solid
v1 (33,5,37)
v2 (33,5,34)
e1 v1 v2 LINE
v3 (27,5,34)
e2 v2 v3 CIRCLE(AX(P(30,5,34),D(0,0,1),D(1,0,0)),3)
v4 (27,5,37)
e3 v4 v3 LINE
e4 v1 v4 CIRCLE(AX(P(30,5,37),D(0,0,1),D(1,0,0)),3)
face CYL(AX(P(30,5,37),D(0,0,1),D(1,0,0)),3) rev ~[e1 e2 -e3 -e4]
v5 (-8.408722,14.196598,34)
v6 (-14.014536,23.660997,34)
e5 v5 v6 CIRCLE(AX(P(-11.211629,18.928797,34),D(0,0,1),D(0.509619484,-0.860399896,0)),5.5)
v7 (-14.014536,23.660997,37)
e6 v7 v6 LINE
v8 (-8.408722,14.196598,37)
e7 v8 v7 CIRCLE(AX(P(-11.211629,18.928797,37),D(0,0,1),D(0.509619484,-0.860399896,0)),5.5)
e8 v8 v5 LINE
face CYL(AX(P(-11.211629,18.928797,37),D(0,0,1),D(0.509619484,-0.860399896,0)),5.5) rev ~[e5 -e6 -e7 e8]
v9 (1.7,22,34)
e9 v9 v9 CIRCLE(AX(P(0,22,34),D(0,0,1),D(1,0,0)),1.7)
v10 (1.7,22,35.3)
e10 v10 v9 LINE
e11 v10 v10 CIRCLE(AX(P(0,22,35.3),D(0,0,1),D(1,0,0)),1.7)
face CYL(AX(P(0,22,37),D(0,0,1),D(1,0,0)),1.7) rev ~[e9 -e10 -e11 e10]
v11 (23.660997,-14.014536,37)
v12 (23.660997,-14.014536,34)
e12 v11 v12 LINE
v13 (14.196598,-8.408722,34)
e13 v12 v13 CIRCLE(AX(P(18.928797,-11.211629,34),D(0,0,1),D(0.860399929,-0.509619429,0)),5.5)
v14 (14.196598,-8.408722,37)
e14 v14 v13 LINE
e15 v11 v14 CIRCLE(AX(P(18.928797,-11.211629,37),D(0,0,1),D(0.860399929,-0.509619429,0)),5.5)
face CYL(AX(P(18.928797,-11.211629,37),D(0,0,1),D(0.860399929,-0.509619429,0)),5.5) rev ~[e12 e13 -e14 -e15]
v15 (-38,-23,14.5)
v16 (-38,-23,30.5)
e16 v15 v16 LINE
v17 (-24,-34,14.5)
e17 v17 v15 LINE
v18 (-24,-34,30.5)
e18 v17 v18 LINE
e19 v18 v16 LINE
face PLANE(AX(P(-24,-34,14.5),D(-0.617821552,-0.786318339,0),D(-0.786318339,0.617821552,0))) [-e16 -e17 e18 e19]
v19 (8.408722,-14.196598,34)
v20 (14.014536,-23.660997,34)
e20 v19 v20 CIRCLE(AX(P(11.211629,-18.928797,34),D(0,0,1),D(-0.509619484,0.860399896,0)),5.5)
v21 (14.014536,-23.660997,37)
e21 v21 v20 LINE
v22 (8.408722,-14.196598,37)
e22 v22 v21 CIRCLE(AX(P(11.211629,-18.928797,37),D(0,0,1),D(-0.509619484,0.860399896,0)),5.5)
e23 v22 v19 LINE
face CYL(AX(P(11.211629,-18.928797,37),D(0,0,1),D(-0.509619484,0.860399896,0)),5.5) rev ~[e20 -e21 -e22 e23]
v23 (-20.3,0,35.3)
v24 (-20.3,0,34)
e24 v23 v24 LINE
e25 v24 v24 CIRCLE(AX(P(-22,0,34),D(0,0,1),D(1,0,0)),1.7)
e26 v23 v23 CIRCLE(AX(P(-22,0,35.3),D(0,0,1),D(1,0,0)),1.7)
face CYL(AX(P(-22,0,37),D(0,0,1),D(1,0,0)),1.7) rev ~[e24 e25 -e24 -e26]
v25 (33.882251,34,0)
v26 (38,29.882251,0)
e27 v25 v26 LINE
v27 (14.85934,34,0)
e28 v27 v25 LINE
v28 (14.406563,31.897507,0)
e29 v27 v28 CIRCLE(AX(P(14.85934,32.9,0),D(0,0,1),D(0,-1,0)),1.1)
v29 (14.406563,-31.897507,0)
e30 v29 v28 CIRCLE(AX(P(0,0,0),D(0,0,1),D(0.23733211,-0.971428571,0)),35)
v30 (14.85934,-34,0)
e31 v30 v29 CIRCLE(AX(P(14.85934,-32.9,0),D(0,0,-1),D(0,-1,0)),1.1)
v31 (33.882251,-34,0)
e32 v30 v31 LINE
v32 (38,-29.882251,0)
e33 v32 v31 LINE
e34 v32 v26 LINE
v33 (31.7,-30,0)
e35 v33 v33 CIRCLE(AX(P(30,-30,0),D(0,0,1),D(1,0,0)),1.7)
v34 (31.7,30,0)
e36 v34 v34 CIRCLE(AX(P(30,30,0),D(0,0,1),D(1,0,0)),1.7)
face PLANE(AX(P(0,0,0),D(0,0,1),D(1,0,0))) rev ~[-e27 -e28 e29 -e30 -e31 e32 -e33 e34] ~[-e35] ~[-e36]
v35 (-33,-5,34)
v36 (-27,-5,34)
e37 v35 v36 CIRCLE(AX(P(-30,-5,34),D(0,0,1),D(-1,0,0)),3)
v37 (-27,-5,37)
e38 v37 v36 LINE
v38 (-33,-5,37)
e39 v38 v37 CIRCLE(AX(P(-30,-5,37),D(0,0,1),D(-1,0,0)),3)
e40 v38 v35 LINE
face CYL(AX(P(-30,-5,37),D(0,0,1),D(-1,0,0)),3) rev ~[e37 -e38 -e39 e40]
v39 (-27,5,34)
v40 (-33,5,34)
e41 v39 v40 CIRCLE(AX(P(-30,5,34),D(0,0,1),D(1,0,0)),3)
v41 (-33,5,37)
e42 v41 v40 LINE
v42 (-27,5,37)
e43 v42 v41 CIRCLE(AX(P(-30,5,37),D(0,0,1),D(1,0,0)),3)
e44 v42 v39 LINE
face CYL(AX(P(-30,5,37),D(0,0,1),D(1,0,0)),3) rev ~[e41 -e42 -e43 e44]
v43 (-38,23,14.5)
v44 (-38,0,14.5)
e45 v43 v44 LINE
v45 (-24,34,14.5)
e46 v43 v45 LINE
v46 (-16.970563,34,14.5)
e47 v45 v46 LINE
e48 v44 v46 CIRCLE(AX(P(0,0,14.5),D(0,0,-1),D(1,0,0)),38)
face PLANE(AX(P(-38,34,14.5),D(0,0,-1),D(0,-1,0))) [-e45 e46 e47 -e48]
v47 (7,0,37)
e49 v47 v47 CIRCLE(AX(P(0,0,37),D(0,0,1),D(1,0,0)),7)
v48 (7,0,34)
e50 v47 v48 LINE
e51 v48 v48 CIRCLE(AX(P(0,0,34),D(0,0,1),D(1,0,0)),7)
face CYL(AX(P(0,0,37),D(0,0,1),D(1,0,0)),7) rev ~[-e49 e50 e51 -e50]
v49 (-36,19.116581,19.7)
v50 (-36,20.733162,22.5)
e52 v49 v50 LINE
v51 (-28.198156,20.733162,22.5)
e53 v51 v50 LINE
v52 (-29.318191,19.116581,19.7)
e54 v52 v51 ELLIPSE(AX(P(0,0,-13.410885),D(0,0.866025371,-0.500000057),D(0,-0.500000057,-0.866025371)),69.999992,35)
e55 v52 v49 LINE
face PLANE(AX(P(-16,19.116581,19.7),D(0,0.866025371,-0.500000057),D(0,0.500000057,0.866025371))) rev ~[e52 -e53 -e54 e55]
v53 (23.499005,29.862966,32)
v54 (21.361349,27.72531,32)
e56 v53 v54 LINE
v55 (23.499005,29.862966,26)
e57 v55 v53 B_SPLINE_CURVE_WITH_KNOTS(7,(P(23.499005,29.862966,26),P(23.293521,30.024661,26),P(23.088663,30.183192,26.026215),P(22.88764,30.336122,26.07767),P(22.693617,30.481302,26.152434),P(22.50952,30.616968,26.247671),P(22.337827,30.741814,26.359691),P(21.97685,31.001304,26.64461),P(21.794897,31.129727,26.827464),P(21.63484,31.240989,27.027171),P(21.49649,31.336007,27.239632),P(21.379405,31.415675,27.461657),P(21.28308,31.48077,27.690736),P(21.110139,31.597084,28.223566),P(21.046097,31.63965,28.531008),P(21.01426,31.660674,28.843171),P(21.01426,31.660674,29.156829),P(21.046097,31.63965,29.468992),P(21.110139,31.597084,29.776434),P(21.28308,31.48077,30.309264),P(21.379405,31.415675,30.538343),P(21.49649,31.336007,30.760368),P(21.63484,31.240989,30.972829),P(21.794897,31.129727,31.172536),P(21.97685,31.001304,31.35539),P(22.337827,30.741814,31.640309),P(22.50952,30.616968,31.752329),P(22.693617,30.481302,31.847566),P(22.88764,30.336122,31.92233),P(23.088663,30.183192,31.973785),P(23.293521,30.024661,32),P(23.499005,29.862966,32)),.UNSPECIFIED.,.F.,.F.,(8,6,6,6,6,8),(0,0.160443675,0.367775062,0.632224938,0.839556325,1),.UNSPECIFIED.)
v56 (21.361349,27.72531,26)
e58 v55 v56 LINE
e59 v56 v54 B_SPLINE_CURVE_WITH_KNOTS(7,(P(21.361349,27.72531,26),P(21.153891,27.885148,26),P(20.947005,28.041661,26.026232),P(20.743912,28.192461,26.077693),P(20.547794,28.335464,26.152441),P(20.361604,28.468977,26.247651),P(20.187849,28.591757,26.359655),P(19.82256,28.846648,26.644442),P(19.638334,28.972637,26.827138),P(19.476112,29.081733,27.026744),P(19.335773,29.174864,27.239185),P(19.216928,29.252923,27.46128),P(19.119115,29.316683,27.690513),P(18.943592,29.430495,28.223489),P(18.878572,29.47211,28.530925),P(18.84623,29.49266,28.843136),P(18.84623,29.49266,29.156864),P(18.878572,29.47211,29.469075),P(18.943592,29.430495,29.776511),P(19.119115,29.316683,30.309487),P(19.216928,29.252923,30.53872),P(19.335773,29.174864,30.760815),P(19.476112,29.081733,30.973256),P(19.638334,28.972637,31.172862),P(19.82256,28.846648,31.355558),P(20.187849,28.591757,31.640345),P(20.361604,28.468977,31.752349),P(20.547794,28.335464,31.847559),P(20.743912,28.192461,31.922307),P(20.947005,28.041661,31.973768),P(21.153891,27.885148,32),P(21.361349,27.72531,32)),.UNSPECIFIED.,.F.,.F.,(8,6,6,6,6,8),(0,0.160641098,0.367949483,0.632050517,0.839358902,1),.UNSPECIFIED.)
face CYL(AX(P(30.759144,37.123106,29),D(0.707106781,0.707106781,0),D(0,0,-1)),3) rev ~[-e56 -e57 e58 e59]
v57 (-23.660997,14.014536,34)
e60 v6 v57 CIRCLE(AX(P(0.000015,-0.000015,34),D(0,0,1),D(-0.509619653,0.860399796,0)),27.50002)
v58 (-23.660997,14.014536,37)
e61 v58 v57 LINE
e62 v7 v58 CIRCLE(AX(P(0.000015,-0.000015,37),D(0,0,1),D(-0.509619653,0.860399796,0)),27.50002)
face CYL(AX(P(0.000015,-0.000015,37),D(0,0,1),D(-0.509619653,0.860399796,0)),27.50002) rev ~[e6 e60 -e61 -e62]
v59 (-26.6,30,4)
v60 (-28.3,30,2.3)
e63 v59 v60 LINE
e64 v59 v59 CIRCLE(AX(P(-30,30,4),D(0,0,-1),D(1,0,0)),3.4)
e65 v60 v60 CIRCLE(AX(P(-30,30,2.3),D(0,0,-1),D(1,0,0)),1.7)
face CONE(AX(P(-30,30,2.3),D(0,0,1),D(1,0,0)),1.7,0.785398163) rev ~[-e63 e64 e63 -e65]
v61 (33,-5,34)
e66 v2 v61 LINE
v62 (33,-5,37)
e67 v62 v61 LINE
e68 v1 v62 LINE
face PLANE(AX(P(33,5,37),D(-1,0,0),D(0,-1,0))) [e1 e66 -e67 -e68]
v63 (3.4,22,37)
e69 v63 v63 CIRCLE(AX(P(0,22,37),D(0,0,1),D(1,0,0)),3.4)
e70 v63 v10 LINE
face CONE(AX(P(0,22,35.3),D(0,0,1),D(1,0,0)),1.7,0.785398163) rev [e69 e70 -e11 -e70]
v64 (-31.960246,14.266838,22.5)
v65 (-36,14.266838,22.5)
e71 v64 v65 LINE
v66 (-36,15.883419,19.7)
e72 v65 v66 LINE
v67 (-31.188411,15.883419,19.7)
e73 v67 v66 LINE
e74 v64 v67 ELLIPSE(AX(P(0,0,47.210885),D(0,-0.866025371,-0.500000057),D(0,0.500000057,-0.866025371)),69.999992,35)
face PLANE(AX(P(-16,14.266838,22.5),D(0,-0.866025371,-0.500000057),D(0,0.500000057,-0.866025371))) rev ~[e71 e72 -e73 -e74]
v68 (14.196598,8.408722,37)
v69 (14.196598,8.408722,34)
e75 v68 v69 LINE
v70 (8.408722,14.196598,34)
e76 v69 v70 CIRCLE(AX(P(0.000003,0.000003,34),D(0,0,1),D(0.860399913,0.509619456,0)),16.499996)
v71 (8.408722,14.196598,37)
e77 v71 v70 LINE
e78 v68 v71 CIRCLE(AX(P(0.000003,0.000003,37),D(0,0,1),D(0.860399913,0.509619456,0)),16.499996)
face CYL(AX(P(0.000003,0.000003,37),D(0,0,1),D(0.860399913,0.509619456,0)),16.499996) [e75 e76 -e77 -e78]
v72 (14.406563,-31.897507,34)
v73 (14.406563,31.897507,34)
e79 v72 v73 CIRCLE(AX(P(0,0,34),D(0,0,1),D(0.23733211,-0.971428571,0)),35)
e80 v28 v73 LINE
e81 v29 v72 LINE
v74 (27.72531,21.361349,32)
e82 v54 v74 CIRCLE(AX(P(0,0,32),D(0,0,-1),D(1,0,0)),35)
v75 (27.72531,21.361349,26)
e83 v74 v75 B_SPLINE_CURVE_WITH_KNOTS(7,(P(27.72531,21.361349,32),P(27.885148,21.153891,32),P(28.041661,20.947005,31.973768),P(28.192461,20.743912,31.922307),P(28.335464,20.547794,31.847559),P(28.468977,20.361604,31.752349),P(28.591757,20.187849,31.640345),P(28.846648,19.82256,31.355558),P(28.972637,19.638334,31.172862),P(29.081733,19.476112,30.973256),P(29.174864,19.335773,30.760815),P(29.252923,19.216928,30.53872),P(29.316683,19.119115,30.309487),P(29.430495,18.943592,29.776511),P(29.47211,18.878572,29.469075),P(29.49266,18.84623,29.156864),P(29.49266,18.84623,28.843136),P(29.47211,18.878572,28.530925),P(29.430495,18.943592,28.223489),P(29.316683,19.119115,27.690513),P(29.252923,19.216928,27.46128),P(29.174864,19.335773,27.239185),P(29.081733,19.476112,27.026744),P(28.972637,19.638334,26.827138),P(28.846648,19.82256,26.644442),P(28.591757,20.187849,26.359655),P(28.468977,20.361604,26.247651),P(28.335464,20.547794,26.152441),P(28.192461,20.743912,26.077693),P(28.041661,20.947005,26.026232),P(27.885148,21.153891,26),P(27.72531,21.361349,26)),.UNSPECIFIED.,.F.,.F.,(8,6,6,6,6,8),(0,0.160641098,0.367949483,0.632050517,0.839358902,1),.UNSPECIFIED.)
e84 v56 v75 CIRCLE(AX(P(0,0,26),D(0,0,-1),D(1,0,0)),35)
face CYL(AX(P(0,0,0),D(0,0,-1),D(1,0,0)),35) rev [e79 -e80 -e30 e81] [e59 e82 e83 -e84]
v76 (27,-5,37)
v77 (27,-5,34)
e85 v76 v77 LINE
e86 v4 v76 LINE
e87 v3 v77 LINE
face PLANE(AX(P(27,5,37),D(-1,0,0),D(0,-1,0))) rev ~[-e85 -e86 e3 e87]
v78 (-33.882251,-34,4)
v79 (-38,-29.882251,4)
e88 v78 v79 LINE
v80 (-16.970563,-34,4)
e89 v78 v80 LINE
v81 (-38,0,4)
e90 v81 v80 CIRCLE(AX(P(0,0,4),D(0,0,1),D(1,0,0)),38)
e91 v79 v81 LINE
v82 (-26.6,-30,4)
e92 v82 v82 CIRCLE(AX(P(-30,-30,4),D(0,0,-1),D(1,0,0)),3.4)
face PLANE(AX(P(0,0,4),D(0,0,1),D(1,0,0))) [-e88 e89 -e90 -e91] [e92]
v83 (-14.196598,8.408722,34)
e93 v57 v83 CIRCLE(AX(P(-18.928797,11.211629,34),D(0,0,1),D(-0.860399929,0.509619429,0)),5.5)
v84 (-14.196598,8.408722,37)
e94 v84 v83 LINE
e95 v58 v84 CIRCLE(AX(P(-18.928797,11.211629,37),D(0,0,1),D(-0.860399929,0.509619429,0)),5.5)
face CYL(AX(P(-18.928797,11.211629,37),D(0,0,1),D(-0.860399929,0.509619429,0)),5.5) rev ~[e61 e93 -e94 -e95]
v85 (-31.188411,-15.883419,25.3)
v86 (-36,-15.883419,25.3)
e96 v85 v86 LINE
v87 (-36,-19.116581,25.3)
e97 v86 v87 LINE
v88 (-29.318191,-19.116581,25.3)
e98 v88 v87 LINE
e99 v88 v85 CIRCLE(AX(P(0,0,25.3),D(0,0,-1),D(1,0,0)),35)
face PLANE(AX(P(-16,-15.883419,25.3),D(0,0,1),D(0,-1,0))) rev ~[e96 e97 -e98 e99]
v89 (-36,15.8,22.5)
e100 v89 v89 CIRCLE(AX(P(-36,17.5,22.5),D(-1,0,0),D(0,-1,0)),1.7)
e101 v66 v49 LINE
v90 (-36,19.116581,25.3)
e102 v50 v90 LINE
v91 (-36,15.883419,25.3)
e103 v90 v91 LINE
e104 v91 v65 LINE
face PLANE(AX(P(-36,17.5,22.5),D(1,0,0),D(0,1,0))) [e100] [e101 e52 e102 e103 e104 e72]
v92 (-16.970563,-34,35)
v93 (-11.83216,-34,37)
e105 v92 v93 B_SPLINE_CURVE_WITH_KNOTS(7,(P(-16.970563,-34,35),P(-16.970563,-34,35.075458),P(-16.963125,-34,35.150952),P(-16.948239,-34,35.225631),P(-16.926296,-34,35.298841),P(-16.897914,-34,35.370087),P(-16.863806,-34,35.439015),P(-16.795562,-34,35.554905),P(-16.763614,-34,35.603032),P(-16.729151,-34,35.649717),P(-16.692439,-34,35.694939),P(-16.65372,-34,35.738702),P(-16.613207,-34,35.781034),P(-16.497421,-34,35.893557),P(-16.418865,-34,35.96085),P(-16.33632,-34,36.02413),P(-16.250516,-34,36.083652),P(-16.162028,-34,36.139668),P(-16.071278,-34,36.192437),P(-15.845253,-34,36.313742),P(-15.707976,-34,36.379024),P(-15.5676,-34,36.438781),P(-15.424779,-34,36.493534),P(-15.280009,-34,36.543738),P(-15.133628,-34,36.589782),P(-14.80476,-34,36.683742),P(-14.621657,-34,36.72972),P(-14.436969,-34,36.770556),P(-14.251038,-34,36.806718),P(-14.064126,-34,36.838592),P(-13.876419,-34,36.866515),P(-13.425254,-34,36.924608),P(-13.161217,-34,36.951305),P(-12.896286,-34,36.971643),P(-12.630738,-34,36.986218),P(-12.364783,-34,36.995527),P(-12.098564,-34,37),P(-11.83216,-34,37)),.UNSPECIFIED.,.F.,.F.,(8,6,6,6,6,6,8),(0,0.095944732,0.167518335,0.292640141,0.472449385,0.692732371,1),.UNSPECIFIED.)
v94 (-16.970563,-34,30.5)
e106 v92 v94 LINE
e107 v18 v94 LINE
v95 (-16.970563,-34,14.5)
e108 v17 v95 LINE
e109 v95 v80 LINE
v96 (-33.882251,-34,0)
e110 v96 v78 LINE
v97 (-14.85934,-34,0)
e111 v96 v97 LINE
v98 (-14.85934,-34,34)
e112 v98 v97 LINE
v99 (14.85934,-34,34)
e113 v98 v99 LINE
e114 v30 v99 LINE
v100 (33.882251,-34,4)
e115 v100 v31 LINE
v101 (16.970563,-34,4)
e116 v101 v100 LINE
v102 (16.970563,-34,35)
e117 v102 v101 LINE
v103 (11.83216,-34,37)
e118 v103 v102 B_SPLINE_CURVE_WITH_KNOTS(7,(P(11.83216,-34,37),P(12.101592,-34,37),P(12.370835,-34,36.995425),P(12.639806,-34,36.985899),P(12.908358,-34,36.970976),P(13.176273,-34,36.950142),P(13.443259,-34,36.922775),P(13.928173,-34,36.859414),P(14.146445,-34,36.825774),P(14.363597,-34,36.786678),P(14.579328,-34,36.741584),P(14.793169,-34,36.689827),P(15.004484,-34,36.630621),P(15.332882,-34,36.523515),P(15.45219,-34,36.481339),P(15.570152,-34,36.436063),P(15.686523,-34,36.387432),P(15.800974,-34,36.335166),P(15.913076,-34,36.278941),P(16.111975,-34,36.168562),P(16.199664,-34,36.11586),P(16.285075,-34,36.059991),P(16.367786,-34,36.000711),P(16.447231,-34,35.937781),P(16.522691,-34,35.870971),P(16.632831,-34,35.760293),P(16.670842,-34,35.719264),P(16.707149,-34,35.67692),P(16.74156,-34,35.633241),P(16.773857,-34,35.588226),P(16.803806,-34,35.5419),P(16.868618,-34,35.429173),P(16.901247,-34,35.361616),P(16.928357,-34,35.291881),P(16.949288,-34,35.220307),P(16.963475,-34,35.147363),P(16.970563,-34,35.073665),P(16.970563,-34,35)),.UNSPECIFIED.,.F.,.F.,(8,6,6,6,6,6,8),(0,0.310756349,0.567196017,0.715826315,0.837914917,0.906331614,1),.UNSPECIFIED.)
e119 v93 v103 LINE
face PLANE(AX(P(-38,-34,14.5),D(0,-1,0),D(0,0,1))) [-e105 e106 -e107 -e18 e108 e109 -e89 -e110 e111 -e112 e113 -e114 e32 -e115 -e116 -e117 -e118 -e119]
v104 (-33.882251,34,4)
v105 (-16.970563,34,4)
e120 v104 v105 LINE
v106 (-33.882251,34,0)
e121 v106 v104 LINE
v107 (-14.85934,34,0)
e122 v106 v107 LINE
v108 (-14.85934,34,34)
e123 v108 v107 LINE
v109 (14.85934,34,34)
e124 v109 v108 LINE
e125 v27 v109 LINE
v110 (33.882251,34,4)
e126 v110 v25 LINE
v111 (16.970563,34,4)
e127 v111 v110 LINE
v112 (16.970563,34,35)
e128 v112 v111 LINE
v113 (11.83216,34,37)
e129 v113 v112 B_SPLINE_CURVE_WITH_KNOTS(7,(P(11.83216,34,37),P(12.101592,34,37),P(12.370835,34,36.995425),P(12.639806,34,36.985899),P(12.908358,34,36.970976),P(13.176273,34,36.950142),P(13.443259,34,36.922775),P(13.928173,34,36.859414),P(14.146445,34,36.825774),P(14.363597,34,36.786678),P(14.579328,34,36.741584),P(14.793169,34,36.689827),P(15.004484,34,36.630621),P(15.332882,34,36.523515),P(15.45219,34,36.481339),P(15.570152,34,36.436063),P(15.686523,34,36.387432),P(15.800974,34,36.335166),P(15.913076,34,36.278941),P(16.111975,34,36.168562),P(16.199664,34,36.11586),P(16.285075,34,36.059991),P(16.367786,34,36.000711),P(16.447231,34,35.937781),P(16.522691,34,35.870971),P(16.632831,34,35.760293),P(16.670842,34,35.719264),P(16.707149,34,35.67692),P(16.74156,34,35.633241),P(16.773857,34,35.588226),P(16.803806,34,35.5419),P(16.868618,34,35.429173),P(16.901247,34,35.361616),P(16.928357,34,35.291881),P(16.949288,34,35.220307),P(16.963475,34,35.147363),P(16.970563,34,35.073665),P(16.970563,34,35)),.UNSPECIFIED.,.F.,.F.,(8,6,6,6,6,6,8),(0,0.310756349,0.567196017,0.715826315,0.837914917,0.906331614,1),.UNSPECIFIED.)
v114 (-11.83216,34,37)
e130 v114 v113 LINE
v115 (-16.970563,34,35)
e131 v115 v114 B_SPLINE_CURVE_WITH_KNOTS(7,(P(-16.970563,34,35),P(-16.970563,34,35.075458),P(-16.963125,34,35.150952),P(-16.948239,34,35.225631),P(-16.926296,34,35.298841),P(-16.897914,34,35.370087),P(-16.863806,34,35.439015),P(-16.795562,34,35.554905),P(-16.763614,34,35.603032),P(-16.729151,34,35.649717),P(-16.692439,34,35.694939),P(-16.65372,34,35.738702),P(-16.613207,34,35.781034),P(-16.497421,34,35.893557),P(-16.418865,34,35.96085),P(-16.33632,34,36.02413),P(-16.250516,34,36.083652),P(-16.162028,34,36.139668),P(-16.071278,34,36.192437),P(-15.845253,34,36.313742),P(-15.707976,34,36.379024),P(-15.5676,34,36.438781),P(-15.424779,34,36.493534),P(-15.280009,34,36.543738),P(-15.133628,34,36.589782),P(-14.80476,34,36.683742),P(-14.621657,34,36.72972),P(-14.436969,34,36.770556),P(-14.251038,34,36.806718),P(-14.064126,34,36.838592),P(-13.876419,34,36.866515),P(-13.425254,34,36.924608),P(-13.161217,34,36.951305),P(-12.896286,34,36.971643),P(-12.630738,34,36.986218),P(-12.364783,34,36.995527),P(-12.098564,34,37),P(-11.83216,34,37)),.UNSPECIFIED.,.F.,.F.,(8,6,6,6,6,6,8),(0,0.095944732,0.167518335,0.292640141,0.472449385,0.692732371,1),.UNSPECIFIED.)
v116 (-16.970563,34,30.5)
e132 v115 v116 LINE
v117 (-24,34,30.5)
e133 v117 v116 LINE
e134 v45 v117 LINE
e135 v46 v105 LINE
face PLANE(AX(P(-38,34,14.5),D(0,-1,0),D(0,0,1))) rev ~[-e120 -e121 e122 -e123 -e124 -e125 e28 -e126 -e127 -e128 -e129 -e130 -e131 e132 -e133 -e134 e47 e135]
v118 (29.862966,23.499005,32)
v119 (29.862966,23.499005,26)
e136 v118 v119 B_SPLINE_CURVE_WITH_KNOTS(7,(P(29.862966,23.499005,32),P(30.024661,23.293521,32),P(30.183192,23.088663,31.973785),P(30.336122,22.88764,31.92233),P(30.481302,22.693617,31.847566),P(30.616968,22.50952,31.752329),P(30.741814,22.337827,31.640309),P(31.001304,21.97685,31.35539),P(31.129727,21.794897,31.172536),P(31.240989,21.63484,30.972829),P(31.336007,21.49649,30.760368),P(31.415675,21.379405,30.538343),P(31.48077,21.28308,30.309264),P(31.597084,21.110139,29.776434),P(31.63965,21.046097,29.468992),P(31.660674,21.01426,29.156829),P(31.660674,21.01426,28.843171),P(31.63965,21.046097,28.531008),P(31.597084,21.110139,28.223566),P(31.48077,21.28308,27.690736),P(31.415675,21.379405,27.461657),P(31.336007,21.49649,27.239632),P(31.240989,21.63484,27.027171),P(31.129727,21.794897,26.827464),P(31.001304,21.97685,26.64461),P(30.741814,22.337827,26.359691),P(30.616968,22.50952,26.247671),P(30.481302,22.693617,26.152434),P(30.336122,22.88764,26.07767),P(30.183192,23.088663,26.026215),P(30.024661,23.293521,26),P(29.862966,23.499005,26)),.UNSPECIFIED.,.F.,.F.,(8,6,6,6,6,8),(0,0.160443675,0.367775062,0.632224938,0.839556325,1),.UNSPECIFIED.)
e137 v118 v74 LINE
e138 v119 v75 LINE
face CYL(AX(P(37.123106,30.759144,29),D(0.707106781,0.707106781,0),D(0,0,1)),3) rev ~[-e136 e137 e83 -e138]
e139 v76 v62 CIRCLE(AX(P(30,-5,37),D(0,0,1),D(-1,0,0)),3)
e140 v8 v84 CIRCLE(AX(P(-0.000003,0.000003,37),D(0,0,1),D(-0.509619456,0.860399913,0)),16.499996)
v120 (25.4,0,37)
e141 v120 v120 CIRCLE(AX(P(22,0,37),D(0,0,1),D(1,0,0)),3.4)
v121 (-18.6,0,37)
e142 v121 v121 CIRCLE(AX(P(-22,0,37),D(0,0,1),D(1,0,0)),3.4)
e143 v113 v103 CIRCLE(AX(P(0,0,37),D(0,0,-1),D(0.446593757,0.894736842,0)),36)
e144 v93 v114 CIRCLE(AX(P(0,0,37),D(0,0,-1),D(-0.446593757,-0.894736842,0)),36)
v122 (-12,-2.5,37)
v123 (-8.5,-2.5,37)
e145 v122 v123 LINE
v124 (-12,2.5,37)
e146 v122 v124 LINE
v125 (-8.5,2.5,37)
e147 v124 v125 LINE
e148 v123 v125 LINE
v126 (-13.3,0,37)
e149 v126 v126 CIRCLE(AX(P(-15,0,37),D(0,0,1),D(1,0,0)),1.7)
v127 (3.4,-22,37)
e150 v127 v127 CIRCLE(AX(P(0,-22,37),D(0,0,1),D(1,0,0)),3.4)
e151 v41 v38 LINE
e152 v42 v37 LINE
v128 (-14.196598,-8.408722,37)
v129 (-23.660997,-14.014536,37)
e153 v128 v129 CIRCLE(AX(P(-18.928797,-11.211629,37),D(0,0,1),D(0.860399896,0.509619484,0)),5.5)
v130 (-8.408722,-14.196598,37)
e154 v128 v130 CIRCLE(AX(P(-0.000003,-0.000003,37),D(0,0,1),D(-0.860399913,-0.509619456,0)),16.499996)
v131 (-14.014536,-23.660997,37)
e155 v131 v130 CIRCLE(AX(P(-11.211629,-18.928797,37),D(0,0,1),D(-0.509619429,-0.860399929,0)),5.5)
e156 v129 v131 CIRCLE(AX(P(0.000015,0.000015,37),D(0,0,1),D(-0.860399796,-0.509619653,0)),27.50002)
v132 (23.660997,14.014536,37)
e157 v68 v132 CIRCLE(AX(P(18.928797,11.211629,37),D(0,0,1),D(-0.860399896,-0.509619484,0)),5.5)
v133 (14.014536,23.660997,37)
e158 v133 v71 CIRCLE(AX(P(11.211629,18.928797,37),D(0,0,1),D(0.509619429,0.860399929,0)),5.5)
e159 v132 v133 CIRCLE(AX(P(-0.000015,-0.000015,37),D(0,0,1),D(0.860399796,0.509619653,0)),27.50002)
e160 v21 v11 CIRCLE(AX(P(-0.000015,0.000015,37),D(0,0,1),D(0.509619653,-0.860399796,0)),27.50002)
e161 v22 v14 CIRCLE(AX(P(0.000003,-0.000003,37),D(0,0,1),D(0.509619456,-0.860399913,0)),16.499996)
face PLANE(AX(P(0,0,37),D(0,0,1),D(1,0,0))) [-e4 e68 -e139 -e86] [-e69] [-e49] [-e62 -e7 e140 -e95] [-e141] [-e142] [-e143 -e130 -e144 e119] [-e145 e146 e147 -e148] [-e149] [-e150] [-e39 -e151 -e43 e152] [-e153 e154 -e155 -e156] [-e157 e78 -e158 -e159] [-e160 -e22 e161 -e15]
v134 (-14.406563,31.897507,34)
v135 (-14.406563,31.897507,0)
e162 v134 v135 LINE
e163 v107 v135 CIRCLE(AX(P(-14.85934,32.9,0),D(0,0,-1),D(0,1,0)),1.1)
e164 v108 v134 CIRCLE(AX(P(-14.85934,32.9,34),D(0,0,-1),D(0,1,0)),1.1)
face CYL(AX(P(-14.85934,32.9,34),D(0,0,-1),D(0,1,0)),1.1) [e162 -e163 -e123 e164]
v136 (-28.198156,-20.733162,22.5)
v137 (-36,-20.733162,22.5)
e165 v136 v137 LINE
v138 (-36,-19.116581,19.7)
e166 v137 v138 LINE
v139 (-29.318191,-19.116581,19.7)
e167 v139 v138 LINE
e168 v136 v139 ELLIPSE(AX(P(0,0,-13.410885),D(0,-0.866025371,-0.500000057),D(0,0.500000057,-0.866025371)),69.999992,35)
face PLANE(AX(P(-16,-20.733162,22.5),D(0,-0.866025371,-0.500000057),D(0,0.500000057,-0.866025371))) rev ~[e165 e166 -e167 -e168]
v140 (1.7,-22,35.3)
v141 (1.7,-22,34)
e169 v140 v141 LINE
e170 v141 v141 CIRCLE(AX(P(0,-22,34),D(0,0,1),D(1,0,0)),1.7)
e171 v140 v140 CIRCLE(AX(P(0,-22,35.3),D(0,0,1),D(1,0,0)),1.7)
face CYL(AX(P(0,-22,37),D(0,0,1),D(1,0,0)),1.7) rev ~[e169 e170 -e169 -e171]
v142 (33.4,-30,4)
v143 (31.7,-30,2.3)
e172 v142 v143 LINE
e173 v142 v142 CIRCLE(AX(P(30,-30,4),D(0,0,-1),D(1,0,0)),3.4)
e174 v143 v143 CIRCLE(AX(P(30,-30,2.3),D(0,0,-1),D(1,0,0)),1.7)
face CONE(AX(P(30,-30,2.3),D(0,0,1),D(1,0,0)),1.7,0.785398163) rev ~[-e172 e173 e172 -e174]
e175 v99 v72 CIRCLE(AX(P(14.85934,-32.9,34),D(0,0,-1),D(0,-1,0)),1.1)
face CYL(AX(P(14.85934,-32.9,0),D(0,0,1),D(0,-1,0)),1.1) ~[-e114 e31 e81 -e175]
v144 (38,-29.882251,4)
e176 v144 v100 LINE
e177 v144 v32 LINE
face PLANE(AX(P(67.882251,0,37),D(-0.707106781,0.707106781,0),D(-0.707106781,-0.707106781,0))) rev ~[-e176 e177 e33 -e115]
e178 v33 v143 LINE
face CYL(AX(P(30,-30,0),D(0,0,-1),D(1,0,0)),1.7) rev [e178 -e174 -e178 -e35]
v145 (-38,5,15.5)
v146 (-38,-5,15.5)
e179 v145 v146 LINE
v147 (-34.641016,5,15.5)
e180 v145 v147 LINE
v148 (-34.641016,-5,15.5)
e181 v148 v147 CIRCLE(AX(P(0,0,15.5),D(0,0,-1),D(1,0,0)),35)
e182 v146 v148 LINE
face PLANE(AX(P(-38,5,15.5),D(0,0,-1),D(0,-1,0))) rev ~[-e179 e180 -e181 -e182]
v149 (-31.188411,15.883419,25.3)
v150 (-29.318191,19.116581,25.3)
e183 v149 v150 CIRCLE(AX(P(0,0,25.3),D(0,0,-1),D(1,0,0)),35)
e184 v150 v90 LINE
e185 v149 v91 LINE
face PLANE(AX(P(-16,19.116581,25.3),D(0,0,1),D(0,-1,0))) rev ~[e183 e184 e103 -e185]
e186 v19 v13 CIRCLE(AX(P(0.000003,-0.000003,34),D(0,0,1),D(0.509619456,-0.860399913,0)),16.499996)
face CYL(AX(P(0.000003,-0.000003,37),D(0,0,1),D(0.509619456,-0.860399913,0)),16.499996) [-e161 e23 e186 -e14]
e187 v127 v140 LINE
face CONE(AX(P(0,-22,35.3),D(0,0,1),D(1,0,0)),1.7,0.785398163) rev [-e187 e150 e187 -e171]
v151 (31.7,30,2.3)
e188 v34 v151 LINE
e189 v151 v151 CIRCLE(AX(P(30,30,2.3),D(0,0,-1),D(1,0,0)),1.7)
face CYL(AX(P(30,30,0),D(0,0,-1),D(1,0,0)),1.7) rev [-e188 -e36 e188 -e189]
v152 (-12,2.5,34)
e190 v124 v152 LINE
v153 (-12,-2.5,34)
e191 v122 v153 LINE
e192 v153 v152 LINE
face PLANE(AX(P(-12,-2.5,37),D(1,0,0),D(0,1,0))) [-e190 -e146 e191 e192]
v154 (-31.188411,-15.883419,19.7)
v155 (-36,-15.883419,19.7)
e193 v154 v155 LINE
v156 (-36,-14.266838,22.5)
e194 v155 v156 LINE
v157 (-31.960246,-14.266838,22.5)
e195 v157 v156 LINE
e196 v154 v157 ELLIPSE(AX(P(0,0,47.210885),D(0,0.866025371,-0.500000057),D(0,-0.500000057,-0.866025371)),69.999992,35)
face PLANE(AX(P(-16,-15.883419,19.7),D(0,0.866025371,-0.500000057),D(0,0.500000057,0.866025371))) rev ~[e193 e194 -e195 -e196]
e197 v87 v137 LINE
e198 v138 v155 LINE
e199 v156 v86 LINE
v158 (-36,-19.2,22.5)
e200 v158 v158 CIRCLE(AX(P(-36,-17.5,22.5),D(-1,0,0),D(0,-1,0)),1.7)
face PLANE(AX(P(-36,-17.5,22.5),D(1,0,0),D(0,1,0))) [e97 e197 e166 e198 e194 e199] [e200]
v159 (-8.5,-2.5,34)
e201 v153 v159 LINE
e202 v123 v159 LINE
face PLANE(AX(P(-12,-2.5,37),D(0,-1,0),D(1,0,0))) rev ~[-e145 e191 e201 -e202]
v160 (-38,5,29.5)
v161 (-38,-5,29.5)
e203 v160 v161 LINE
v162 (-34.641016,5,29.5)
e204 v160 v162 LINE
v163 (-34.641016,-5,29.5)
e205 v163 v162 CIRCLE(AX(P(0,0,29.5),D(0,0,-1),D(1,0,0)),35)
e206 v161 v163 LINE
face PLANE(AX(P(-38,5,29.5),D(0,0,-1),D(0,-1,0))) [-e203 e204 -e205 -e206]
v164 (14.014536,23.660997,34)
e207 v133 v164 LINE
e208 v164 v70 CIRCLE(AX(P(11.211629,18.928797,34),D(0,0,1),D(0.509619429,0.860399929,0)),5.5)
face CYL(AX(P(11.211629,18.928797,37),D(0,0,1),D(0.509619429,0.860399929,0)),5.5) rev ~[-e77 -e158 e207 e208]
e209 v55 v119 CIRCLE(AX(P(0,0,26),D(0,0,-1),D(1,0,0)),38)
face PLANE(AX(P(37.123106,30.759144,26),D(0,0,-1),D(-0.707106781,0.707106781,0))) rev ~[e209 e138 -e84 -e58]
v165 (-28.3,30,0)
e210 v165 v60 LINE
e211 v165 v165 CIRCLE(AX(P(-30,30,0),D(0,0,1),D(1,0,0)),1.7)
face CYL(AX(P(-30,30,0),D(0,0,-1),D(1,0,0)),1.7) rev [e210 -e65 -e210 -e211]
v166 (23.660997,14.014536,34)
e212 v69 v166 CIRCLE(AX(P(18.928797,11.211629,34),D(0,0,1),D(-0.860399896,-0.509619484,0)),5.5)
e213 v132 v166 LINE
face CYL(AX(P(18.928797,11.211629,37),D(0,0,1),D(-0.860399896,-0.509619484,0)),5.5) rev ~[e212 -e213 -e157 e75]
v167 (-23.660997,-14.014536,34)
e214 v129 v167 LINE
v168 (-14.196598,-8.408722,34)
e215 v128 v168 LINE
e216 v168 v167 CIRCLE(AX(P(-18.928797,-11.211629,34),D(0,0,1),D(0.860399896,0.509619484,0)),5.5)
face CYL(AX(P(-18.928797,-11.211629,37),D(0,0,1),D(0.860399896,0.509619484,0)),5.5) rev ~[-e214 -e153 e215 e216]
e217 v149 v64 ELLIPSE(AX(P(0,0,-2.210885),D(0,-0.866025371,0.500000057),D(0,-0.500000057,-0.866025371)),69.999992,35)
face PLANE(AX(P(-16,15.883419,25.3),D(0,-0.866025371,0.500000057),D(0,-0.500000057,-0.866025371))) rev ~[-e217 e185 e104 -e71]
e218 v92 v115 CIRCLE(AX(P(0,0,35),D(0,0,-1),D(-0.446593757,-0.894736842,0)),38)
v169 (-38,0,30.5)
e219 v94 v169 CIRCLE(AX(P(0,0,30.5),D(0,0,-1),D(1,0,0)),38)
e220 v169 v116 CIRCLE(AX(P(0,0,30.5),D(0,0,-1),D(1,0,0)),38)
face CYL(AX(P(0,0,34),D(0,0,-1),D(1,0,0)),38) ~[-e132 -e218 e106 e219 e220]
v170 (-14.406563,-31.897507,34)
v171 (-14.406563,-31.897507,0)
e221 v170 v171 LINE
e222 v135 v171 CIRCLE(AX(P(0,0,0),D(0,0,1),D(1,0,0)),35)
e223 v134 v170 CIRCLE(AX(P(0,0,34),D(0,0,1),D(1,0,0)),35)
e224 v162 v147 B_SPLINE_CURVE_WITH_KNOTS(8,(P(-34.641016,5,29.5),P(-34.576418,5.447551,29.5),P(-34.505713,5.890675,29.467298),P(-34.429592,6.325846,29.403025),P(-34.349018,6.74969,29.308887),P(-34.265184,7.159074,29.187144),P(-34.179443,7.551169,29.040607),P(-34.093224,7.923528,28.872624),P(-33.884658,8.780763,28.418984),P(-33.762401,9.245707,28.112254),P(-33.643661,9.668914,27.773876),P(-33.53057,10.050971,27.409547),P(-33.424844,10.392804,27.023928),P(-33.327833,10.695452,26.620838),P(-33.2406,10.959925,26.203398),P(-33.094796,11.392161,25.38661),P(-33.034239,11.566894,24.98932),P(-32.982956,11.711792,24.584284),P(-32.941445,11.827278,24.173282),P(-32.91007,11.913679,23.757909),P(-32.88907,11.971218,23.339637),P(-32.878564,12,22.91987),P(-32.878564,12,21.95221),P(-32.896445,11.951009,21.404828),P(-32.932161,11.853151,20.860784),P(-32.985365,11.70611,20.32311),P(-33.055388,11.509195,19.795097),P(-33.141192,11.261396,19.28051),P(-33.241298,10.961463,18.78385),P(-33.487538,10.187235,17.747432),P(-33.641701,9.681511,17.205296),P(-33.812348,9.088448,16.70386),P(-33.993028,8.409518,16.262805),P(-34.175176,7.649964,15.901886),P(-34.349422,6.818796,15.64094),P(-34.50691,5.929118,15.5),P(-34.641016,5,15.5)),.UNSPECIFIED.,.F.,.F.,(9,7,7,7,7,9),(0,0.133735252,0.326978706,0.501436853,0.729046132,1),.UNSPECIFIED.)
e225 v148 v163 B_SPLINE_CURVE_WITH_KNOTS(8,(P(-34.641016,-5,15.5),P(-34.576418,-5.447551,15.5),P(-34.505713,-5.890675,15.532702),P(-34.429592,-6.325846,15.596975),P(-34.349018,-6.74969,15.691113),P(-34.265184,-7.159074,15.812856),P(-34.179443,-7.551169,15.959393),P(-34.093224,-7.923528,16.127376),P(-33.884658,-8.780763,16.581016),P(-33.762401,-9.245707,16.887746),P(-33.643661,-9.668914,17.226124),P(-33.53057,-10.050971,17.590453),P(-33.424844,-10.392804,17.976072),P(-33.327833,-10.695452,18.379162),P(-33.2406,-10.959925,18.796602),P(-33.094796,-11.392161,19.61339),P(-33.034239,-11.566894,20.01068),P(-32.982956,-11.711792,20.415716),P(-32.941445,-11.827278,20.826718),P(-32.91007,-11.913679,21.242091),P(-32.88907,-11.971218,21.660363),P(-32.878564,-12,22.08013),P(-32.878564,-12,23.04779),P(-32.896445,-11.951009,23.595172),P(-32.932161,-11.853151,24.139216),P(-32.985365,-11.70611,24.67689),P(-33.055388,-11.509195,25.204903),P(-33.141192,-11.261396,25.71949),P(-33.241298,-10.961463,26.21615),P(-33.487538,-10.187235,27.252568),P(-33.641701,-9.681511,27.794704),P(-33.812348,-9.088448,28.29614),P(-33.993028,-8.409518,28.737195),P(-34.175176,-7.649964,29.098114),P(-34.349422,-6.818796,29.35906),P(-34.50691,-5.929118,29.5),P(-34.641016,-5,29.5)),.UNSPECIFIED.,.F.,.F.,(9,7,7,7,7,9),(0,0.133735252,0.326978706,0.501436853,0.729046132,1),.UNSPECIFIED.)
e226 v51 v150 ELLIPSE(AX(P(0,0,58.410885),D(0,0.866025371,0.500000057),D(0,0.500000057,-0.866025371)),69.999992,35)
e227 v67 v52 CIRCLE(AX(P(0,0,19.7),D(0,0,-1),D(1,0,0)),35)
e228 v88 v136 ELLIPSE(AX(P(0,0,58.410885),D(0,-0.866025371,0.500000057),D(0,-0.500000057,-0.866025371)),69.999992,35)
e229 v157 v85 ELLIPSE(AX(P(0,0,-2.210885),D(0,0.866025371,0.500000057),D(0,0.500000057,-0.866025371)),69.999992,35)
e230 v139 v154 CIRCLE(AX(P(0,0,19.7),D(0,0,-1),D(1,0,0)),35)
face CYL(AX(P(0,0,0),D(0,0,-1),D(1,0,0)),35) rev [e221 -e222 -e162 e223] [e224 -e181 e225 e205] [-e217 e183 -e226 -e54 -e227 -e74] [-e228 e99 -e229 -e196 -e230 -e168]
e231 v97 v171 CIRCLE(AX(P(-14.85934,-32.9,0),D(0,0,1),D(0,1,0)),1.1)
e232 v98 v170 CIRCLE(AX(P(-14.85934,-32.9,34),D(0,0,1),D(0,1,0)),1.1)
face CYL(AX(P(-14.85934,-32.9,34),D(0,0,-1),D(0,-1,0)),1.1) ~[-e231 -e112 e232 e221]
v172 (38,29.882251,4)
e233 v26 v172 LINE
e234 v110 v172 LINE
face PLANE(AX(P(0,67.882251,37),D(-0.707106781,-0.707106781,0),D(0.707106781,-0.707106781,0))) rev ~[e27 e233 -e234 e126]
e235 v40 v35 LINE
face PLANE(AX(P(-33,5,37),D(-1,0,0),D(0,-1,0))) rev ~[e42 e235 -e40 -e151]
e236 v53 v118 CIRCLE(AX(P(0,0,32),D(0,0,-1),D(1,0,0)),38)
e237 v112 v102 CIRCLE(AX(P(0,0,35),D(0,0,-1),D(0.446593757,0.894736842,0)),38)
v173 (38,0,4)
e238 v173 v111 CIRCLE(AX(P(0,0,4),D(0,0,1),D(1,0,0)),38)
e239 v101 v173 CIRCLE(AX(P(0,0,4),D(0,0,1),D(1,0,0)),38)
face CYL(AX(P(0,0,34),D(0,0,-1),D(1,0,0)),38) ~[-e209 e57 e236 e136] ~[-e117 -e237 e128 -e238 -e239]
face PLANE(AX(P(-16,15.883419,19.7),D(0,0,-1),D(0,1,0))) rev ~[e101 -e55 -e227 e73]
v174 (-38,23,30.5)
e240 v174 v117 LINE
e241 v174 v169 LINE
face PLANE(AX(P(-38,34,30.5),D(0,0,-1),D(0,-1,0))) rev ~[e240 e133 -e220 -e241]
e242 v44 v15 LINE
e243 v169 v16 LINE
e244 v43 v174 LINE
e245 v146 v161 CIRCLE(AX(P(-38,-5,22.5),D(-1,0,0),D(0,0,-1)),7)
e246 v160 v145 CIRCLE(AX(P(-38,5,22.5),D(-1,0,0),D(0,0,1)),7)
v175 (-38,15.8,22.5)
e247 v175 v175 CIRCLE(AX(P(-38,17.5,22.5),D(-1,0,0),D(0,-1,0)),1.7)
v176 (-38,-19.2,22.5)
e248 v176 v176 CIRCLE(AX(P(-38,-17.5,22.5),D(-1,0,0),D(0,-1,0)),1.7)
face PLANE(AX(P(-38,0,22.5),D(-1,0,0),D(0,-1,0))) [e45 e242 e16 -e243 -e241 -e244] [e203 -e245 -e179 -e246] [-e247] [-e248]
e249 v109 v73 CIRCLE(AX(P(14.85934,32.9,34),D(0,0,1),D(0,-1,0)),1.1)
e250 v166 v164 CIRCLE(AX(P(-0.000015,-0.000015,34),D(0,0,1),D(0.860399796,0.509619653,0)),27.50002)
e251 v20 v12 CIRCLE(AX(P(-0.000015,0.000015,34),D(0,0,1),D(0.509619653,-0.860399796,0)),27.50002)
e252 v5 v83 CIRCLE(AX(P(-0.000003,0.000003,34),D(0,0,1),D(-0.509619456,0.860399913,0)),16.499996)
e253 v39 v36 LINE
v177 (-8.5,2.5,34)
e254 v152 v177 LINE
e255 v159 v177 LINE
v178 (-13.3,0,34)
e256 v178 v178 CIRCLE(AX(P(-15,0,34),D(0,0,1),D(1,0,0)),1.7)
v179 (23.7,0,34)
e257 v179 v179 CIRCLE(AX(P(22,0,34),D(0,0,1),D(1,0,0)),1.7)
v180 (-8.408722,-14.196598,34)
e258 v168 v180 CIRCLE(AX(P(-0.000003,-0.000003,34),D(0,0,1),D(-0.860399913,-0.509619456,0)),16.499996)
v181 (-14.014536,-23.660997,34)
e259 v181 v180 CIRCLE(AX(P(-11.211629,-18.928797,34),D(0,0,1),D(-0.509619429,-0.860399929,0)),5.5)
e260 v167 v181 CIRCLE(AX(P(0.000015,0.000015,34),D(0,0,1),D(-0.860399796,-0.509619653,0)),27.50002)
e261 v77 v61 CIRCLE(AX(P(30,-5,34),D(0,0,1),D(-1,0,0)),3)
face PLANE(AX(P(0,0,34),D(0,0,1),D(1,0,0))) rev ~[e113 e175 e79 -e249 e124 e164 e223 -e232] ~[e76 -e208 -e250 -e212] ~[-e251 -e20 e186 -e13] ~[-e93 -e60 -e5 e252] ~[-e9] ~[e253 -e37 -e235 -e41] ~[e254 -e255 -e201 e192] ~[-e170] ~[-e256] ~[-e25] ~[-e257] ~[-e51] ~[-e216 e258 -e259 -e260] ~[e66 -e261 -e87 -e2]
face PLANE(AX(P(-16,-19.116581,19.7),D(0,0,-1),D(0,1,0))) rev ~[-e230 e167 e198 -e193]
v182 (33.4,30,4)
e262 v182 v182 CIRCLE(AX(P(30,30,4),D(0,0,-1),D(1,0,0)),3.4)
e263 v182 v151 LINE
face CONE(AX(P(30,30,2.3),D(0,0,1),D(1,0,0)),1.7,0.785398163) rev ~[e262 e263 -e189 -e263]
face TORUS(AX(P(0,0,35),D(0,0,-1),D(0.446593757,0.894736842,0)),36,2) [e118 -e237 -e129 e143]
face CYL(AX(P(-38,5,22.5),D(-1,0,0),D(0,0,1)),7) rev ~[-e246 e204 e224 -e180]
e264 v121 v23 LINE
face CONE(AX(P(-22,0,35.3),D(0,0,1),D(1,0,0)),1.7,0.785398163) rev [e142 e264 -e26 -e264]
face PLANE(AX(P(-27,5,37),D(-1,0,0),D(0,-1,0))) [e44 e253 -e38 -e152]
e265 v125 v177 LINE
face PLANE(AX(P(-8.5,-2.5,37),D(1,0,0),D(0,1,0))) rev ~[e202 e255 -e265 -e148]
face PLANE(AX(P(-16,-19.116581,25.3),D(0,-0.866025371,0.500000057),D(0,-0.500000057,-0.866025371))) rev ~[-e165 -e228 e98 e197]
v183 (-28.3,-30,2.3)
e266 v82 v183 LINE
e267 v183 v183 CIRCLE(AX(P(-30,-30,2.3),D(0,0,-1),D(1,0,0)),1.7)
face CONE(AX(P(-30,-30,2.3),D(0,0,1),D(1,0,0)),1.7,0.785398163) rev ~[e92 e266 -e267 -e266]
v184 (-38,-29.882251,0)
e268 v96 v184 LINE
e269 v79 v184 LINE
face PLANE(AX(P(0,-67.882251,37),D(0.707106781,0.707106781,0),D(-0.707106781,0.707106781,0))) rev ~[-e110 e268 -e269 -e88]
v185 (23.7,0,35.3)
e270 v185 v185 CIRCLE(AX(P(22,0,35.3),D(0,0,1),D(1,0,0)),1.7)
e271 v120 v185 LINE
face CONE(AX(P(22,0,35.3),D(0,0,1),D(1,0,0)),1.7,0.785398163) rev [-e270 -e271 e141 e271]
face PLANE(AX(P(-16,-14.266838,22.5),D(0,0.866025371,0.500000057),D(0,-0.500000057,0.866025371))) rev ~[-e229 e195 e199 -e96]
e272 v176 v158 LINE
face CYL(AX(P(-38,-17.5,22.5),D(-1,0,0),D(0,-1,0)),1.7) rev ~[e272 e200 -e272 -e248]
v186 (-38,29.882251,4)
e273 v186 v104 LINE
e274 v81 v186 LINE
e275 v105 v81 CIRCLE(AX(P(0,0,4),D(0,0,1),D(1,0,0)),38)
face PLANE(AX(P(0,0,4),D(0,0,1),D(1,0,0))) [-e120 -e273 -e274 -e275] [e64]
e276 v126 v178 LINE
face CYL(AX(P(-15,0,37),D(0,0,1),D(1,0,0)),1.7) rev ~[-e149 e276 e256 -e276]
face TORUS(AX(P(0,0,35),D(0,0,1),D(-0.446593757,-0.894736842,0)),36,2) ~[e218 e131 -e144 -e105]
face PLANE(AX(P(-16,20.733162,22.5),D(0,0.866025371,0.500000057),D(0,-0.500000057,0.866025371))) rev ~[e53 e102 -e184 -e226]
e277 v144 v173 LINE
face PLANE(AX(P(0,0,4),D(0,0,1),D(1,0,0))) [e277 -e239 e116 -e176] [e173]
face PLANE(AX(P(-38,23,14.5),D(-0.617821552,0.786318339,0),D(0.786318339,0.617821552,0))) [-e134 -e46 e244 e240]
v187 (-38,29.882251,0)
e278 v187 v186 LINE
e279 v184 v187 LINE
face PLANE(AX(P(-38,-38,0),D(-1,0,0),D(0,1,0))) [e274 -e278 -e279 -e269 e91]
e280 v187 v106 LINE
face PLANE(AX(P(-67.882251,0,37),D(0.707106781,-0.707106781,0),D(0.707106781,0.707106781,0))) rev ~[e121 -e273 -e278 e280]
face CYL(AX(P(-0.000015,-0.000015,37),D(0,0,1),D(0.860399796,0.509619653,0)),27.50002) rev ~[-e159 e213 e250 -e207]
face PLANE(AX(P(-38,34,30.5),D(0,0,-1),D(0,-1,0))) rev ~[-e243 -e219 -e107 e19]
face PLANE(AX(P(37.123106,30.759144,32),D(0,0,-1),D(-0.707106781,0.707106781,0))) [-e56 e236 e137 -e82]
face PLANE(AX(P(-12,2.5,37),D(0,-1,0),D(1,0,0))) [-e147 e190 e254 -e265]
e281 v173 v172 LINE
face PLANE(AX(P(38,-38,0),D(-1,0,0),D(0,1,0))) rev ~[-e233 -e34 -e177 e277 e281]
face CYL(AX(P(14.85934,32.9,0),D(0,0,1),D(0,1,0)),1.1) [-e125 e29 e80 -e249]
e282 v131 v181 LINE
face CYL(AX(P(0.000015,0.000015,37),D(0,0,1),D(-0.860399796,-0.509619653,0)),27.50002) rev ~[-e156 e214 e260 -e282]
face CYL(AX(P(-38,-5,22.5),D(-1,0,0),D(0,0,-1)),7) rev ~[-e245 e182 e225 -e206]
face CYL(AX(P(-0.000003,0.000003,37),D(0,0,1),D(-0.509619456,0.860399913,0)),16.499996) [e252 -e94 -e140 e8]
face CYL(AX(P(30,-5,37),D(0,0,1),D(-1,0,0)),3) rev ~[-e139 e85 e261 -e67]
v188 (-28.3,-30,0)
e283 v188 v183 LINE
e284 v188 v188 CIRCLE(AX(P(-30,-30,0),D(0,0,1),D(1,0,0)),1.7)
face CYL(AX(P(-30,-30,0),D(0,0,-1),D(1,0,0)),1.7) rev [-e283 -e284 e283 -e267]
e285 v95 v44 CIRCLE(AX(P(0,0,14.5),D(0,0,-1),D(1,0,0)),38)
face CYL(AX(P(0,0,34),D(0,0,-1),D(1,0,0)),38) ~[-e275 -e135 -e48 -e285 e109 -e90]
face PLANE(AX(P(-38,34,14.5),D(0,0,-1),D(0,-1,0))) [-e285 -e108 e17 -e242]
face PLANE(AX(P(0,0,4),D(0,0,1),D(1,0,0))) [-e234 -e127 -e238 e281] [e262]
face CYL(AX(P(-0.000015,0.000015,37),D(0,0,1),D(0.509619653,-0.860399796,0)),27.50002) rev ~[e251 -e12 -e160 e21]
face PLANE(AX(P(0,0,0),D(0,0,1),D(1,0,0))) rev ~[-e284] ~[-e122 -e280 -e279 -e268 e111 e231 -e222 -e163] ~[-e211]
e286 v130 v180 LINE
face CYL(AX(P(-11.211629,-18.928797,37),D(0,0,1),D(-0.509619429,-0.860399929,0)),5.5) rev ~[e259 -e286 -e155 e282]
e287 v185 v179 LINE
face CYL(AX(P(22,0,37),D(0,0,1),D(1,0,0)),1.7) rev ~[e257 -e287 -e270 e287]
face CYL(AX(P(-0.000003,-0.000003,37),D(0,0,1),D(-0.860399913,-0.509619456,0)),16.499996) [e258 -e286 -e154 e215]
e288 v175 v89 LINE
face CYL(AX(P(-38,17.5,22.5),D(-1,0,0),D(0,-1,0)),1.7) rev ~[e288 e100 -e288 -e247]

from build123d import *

# Parameters (mm, degrees)
SKETCH_W        = 76
SKETCH_H        = 76
SKETCH_R        = 35
SKETCH_R_2      = 1.7
PAD_DEPTH       = 34
SKETCH001_R     = 60
SKETCH001_R_2   = 38
POCKET_DEPTH    = 30
SKETCH002_R     = 38
PAD001_DEPTH    = 3
SKETCH003_W     = 100
SKETCH003_H     = 100
SKETCH003_W_2   = 80
SKETCH003_H_2   = 68
POCKET001_DEPTH = 37.001
SKETCH004_W     = 68
SKETCH004_H     = 16
PAD002_DEPTH    = 22
POCKET002_DEPTH = 25
POCKET003_DEPTH = 20
SKETCH030_R     = 35
POCKET004_DEPTH = 18
SKETCH031_R     = 1.7
POCKET005_DEPTH = 30
SKETCH022_R     = 1.7
SKETCH022_R_2   = 7
SKETCH022_W     = 3.5
SKETCH022_H     = 5
POCKET006_DEPTH = 5
SKETCH032_W     = 220
SKETCH032_H     = 220
POCKET007_DEPTH = 37.001
POCKET008_DEPTH = 20
FILLET_R        = 1.1
FILLET001_R     = 1.1
FILLET002_R     = 1.1
FILLET003_R     = 1.1
FILLET004_R     = 2
FILLET005_R     = 2
CHAMFER_SIZE    = 1.7
CHAMFER001_SIZE = 1.7
CHAMFER002_SIZE = 1.7
CHAMFER003_SIZE = 1.7
CHAMFER004_SIZE = 1.7
CHAMFER005_SIZE = 1.7
CHAMFER006_SIZE = 1.7
CHAMFER007_SIZE = 1.7


with BuildPart() as part:
    # Sketch → Pad (new body)
    with BuildSketch(Plane.XY):
        Rectangle(SKETCH_W, SKETCH_H)
        Circle(SKETCH_R, mode=Mode.SUBTRACT)
        with Locations((-30, 30)):
            Circle(SKETCH_R_2, mode=Mode.SUBTRACT)
        with Locations((30, 30)):
            Circle(SKETCH_R_2, mode=Mode.SUBTRACT)
        with Locations((30, -30)):
            Circle(SKETCH_R_2, mode=Mode.SUBTRACT)
        with Locations((-30, -30)):
            Circle(SKETCH_R_2, mode=Mode.SUBTRACT)
    extrude(amount=PAD_DEPTH)

    # Sketch001 → Pocket (cut)
    with BuildSketch(Plane.XY.offset(34)):
        Circle(SKETCH001_R)
        Circle(SKETCH001_R_2, mode=Mode.SUBTRACT)
    extrude(amount=-POCKET_DEPTH, mode=Mode.SUBTRACT)

    # Sketch002 → Pad001 (new body)
    with BuildSketch(Plane.XY.offset(34)):
        Circle(SKETCH002_R)
    extrude(amount=PAD001_DEPTH)

    # Sketch003 → Pocket001 (cut, through all)
    with BuildSketch(Plane.XY.offset(37)):
        Rectangle(SKETCH003_W, SKETCH003_H)
        Rectangle(SKETCH003_W_2, SKETCH003_H_2, mode=Mode.SUBTRACT)
    extrude(amount=-POCKET001_DEPTH, mode=Mode.SUBTRACT)

    # Sketch004 → Pad002 (new body)
    with BuildSketch(Plane(origin=(-38, 0, 0), x_dir=(0, -1, 0), z_dir=(-1, 0, 0))):
        with Locations((0, 22.5)):
            Rectangle(SKETCH004_W, SKETCH004_H)
    extrude(amount=-PAD002_DEPTH)

    # Sketch005 → Pocket002 (cut)
    with BuildSketch(Plane(origin=(0, 0, 14.5), x_dir=(1, 0, 0), z_dir=(0, 0, -1))):
        Polygon((-38, 23), (-38, -23), (-24, -34), (-55, -34), (-55, 34), (-24, 34), align=None)
    extrude(amount=-POCKET002_DEPTH, mode=Mode.SUBTRACT)

    # Sketch029 → Pocket003 (cut)
    with BuildSketch(Plane.YZ.offset(-16)):
        Polygon((-15.883419, 19.7), (-14.266838, 22.5), (-15.883419, 25.3), (-19.116581, 25.3), (-20.733162, 22.5), (-19.116581, 19.7), align=None)
        Polygon((14.266838, 22.5), (15.883419, 19.7), (19.116581, 19.7), (20.733162, 22.5), (19.116581, 25.3), (15.883419, 25.3), align=None)
    extrude(amount=-POCKET003_DEPTH, mode=Mode.SUBTRACT)

    # Sketch030 → Pocket004 (cut)
    with BuildSketch(Plane(origin=(0, 0, 14.5), x_dir=(1, 0, 0), z_dir=(0, 0, -1))):
        Circle(SKETCH030_R)
    extrude(amount=-POCKET004_DEPTH, mode=Mode.SUBTRACT)

    # Sketch031 → Pocket005 (cut)
    with BuildSketch(Plane(origin=(-38, 0, 0), x_dir=(0, -1, 0), z_dir=(-1, 0, 0))):
        with Locations((-17.5, 22.5)):
            Circle(SKETCH031_R)
        with Locations((17.5, 22.5)):
            Circle(SKETCH031_R)
        with BuildLine():
            ThreePointArc((-5, 29.5), (-12, 22.5), (-5, 15.5))
            Line((-5, 15.5), (5, 15.5))
            ThreePointArc((5, 15.5), (12, 22.5), (5, 29.5))
            Line((-5, 29.5), (5, 29.5))
        make_face()
    extrude(amount=-POCKET005_DEPTH, mode=Mode.SUBTRACT)

    # Sketch022 → Pocket006 (cut)
    with BuildSketch(Plane.XY.offset(37)):
        with Locations((0, 22)):
            Circle(SKETCH022_R)
        with Locations((0, -22)):
            Circle(SKETCH022_R)
        with Locations((-22, 0)):
            Circle(SKETCH022_R)
        with Locations((22, 0)):
            Circle(SKETCH022_R)
        Circle(SKETCH022_R_2)
        with Locations((-15, 0)):
            Circle(SKETCH022_R)
        with BuildLine():
            ThreePointArc((-23.660997, 14.014536), (-21.731705, 6.47943), (-14.196598, 8.408722))
            ThreePointArc((-8.408722, 14.196598), (-11.667262, 11.667262), (-14.196598, 8.408722))
            ThreePointArc((-8.408722, 14.196598), (-6.47943, 21.731705), (-14.014536, 23.660997))
            ThreePointArc((-14.014536, 23.660997), (-19.445436, 19.445436), (-23.660997, 14.014536))
        make_face()
        with BuildLine():
            ThreePointArc((8.408722, -14.196598), (11.667262, -11.667262), (14.196598, -8.408722))
            ThreePointArc((23.660997, -14.014536), (21.731705, -6.47943), (14.196598, -8.408722))
            ThreePointArc((14.014536, -23.660997), (19.445436, -19.445436), (23.660997, -14.014536))
            ThreePointArc((8.408722, -14.196598), (6.47943, -21.731705), (14.014536, -23.660997))
        make_face()
        with BuildLine():
            ThreePointArc((23.660997, 14.014536), (19.445436, 19.445436), (14.014536, 23.660997))
            ThreePointArc((14.014536, 23.660997), (6.47943, 21.731705), (8.408722, 14.196598))
            ThreePointArc((14.196598, 8.408722), (11.667262, 11.667262), (8.408722, 14.196598))
            ThreePointArc((14.196598, 8.408722), (21.731705, 6.47943), (23.660997, 14.014536))
        make_face()
        with BuildLine():
            ThreePointArc((-14.014536, -23.660997), (-6.47943, -21.731705), (-8.408722, -14.196598))
            ThreePointArc((-14.196598, -8.408722), (-11.667262, -11.667262), (-8.408722, -14.196598))
            ThreePointArc((-14.196598, -8.408722), (-21.731705, -6.47943), (-23.660997, -14.014536))
            ThreePointArc((-23.660997, -14.014536), (-19.445436, -19.445436), (-14.014536, -23.660997))
        make_face()
        with Locations((-10.25, 0)):
            Rectangle(SKETCH022_W, SKETCH022_H)
        with BuildLine():
            ThreePointArc((-27, 5), (-30, 8), (-33, 5))
            Line((-33, 5), (-33, -5))
            ThreePointArc((-33, -5), (-30, -8), (-27, -5))
            Line((-27, 5), (-27, -5))
        make_face()
        with BuildLine():
            ThreePointArc((33, 5), (30, 8), (27, 5))
            Line((27, 5), (27, -5))
            ThreePointArc((27, -5), (30, -8), (33, -5))
            Line((33, 5), (33, -5))
        make_face()
    extrude(amount=-POCKET006_DEPTH, mode=Mode.SUBTRACT)

    # Sketch032 → Pocket007 (cut, through all)
    with BuildSketch(Plane.XY.offset(37)):
        Rectangle(SKETCH032_W, SKETCH032_H)
        Polygon((-67.882251, 0), (0, 67.882251), (67.882251, 0), (0, -67.882251), align=None, mode=Mode.SUBTRACT)
    extrude(amount=-POCKET007_DEPTH, mode=Mode.SUBTRACT)

    # Sketch033 → Pocket008 (cut)
    with BuildSketch(Plane(origin=(33.941125, 33.941125, 0), x_dir=(-0.707107, 0.707107, 0), z_dir=(0.707107, 0.707107, 0))):
        with BuildLine():
            ThreePointArc((-4.5, 32), (-7.5, 29), (-4.5, 26))
            Line((-4.5, 26), (4.5, 26))
            ThreePointArc((4.5, 26), (7.5, 29), (4.5, 32))
            Line((-4.5, 32), (4.5, 32))
        make_face()
    extrude(amount=-POCKET008_DEPTH, mode=Mode.SUBTRACT)

    # Fillet
    fillet_edges = [part.edges().sort_by_distance(p)[0] for p in [
        (8.306624, 34, 23.5),
    ]]
    fillet(fillet_edges, radius=FILLET_R)

    # Fillet001
    fillet001_edges = [part.edges().sort_by_distance(p)[0] for p in [
        (-8.306624, 34, 23.5),
    ]]
    fillet(fillet001_edges, radius=FILLET001_R)

    # Fillet002
    fillet002_edges = [part.edges().sort_by_distance(p)[0] for p in [
        (-8.306624, -34, 7.25),
    ]]
    fillet(fillet002_edges, radius=FILLET002_R)

    # Fillet003
    fillet003_edges = [part.edges().sort_by_distance(p)[0] for p in [
        (8.306624, -34, 7.25),
    ]]
    fillet(fillet003_edges, radius=FILLET003_R)

    # Fillet004
    fillet004_edges = [part.edges().sort_by_distance(p)[0] for p in [
        (-32.317808, -19.98898, 37),
    ]]
    fillet(fillet004_edges, radius=FILLET004_R)

    # Fillet005
    fillet005_edges = [part.edges().sort_by_distance(p)[0] for p in [
        (32.317808, 19.98898, 37),
    ]]
    fillet(fillet005_edges, radius=FILLET005_R)

    # Chamfer
    chamfer_edges = [part.edges().sort_by_distance(p)[0] for p in [
        (-31.7, 30, 4),
    ]]
    chamfer(chamfer_edges, length=CHAMFER_SIZE)

    # Chamfer001
    chamfer001_edges = [part.edges().sort_by_distance(p)[0] for p in [
        (-31.7, -30, 4),
    ]]
    chamfer(chamfer001_edges, length=CHAMFER001_SIZE)

    # Chamfer002
    chamfer002_edges = [part.edges().sort_by_distance(p)[0] for p in [
        (28.3, 30, 4),
    ]]
    chamfer(chamfer002_edges, length=CHAMFER002_SIZE)

    # Chamfer003
    chamfer003_edges = [part.edges().sort_by_distance(p)[0] for p in [
        (28.3, -30, 4),
    ]]
    chamfer(chamfer003_edges, length=CHAMFER003_SIZE)

    # Chamfer004
    chamfer004_edges = [part.edges().sort_by_distance(p)[0] for p in [
        (-23.7, 0, 37),
    ]]
    chamfer(chamfer004_edges, length=CHAMFER004_SIZE)

    # Chamfer005
    chamfer005_edges = [part.edges().sort_by_distance(p)[0] for p in [
        (-1.7, -22, 37),
    ]]
    chamfer(chamfer005_edges, length=CHAMFER005_SIZE)

    # Chamfer006
    chamfer006_edges = [part.edges().sort_by_distance(p)[0] for p in [
        (20.3, 0, 37),
    ]]
    chamfer(chamfer006_edges, length=CHAMFER006_SIZE)

    # Chamfer007
    chamfer007_edges = [part.edges().sort_by_distance(p)[0] for p in [
        (-1.7, 22, 37),
    ]]
    chamfer(chamfer007_edges, length=CHAMFER007_SIZE)


solid = part.part
